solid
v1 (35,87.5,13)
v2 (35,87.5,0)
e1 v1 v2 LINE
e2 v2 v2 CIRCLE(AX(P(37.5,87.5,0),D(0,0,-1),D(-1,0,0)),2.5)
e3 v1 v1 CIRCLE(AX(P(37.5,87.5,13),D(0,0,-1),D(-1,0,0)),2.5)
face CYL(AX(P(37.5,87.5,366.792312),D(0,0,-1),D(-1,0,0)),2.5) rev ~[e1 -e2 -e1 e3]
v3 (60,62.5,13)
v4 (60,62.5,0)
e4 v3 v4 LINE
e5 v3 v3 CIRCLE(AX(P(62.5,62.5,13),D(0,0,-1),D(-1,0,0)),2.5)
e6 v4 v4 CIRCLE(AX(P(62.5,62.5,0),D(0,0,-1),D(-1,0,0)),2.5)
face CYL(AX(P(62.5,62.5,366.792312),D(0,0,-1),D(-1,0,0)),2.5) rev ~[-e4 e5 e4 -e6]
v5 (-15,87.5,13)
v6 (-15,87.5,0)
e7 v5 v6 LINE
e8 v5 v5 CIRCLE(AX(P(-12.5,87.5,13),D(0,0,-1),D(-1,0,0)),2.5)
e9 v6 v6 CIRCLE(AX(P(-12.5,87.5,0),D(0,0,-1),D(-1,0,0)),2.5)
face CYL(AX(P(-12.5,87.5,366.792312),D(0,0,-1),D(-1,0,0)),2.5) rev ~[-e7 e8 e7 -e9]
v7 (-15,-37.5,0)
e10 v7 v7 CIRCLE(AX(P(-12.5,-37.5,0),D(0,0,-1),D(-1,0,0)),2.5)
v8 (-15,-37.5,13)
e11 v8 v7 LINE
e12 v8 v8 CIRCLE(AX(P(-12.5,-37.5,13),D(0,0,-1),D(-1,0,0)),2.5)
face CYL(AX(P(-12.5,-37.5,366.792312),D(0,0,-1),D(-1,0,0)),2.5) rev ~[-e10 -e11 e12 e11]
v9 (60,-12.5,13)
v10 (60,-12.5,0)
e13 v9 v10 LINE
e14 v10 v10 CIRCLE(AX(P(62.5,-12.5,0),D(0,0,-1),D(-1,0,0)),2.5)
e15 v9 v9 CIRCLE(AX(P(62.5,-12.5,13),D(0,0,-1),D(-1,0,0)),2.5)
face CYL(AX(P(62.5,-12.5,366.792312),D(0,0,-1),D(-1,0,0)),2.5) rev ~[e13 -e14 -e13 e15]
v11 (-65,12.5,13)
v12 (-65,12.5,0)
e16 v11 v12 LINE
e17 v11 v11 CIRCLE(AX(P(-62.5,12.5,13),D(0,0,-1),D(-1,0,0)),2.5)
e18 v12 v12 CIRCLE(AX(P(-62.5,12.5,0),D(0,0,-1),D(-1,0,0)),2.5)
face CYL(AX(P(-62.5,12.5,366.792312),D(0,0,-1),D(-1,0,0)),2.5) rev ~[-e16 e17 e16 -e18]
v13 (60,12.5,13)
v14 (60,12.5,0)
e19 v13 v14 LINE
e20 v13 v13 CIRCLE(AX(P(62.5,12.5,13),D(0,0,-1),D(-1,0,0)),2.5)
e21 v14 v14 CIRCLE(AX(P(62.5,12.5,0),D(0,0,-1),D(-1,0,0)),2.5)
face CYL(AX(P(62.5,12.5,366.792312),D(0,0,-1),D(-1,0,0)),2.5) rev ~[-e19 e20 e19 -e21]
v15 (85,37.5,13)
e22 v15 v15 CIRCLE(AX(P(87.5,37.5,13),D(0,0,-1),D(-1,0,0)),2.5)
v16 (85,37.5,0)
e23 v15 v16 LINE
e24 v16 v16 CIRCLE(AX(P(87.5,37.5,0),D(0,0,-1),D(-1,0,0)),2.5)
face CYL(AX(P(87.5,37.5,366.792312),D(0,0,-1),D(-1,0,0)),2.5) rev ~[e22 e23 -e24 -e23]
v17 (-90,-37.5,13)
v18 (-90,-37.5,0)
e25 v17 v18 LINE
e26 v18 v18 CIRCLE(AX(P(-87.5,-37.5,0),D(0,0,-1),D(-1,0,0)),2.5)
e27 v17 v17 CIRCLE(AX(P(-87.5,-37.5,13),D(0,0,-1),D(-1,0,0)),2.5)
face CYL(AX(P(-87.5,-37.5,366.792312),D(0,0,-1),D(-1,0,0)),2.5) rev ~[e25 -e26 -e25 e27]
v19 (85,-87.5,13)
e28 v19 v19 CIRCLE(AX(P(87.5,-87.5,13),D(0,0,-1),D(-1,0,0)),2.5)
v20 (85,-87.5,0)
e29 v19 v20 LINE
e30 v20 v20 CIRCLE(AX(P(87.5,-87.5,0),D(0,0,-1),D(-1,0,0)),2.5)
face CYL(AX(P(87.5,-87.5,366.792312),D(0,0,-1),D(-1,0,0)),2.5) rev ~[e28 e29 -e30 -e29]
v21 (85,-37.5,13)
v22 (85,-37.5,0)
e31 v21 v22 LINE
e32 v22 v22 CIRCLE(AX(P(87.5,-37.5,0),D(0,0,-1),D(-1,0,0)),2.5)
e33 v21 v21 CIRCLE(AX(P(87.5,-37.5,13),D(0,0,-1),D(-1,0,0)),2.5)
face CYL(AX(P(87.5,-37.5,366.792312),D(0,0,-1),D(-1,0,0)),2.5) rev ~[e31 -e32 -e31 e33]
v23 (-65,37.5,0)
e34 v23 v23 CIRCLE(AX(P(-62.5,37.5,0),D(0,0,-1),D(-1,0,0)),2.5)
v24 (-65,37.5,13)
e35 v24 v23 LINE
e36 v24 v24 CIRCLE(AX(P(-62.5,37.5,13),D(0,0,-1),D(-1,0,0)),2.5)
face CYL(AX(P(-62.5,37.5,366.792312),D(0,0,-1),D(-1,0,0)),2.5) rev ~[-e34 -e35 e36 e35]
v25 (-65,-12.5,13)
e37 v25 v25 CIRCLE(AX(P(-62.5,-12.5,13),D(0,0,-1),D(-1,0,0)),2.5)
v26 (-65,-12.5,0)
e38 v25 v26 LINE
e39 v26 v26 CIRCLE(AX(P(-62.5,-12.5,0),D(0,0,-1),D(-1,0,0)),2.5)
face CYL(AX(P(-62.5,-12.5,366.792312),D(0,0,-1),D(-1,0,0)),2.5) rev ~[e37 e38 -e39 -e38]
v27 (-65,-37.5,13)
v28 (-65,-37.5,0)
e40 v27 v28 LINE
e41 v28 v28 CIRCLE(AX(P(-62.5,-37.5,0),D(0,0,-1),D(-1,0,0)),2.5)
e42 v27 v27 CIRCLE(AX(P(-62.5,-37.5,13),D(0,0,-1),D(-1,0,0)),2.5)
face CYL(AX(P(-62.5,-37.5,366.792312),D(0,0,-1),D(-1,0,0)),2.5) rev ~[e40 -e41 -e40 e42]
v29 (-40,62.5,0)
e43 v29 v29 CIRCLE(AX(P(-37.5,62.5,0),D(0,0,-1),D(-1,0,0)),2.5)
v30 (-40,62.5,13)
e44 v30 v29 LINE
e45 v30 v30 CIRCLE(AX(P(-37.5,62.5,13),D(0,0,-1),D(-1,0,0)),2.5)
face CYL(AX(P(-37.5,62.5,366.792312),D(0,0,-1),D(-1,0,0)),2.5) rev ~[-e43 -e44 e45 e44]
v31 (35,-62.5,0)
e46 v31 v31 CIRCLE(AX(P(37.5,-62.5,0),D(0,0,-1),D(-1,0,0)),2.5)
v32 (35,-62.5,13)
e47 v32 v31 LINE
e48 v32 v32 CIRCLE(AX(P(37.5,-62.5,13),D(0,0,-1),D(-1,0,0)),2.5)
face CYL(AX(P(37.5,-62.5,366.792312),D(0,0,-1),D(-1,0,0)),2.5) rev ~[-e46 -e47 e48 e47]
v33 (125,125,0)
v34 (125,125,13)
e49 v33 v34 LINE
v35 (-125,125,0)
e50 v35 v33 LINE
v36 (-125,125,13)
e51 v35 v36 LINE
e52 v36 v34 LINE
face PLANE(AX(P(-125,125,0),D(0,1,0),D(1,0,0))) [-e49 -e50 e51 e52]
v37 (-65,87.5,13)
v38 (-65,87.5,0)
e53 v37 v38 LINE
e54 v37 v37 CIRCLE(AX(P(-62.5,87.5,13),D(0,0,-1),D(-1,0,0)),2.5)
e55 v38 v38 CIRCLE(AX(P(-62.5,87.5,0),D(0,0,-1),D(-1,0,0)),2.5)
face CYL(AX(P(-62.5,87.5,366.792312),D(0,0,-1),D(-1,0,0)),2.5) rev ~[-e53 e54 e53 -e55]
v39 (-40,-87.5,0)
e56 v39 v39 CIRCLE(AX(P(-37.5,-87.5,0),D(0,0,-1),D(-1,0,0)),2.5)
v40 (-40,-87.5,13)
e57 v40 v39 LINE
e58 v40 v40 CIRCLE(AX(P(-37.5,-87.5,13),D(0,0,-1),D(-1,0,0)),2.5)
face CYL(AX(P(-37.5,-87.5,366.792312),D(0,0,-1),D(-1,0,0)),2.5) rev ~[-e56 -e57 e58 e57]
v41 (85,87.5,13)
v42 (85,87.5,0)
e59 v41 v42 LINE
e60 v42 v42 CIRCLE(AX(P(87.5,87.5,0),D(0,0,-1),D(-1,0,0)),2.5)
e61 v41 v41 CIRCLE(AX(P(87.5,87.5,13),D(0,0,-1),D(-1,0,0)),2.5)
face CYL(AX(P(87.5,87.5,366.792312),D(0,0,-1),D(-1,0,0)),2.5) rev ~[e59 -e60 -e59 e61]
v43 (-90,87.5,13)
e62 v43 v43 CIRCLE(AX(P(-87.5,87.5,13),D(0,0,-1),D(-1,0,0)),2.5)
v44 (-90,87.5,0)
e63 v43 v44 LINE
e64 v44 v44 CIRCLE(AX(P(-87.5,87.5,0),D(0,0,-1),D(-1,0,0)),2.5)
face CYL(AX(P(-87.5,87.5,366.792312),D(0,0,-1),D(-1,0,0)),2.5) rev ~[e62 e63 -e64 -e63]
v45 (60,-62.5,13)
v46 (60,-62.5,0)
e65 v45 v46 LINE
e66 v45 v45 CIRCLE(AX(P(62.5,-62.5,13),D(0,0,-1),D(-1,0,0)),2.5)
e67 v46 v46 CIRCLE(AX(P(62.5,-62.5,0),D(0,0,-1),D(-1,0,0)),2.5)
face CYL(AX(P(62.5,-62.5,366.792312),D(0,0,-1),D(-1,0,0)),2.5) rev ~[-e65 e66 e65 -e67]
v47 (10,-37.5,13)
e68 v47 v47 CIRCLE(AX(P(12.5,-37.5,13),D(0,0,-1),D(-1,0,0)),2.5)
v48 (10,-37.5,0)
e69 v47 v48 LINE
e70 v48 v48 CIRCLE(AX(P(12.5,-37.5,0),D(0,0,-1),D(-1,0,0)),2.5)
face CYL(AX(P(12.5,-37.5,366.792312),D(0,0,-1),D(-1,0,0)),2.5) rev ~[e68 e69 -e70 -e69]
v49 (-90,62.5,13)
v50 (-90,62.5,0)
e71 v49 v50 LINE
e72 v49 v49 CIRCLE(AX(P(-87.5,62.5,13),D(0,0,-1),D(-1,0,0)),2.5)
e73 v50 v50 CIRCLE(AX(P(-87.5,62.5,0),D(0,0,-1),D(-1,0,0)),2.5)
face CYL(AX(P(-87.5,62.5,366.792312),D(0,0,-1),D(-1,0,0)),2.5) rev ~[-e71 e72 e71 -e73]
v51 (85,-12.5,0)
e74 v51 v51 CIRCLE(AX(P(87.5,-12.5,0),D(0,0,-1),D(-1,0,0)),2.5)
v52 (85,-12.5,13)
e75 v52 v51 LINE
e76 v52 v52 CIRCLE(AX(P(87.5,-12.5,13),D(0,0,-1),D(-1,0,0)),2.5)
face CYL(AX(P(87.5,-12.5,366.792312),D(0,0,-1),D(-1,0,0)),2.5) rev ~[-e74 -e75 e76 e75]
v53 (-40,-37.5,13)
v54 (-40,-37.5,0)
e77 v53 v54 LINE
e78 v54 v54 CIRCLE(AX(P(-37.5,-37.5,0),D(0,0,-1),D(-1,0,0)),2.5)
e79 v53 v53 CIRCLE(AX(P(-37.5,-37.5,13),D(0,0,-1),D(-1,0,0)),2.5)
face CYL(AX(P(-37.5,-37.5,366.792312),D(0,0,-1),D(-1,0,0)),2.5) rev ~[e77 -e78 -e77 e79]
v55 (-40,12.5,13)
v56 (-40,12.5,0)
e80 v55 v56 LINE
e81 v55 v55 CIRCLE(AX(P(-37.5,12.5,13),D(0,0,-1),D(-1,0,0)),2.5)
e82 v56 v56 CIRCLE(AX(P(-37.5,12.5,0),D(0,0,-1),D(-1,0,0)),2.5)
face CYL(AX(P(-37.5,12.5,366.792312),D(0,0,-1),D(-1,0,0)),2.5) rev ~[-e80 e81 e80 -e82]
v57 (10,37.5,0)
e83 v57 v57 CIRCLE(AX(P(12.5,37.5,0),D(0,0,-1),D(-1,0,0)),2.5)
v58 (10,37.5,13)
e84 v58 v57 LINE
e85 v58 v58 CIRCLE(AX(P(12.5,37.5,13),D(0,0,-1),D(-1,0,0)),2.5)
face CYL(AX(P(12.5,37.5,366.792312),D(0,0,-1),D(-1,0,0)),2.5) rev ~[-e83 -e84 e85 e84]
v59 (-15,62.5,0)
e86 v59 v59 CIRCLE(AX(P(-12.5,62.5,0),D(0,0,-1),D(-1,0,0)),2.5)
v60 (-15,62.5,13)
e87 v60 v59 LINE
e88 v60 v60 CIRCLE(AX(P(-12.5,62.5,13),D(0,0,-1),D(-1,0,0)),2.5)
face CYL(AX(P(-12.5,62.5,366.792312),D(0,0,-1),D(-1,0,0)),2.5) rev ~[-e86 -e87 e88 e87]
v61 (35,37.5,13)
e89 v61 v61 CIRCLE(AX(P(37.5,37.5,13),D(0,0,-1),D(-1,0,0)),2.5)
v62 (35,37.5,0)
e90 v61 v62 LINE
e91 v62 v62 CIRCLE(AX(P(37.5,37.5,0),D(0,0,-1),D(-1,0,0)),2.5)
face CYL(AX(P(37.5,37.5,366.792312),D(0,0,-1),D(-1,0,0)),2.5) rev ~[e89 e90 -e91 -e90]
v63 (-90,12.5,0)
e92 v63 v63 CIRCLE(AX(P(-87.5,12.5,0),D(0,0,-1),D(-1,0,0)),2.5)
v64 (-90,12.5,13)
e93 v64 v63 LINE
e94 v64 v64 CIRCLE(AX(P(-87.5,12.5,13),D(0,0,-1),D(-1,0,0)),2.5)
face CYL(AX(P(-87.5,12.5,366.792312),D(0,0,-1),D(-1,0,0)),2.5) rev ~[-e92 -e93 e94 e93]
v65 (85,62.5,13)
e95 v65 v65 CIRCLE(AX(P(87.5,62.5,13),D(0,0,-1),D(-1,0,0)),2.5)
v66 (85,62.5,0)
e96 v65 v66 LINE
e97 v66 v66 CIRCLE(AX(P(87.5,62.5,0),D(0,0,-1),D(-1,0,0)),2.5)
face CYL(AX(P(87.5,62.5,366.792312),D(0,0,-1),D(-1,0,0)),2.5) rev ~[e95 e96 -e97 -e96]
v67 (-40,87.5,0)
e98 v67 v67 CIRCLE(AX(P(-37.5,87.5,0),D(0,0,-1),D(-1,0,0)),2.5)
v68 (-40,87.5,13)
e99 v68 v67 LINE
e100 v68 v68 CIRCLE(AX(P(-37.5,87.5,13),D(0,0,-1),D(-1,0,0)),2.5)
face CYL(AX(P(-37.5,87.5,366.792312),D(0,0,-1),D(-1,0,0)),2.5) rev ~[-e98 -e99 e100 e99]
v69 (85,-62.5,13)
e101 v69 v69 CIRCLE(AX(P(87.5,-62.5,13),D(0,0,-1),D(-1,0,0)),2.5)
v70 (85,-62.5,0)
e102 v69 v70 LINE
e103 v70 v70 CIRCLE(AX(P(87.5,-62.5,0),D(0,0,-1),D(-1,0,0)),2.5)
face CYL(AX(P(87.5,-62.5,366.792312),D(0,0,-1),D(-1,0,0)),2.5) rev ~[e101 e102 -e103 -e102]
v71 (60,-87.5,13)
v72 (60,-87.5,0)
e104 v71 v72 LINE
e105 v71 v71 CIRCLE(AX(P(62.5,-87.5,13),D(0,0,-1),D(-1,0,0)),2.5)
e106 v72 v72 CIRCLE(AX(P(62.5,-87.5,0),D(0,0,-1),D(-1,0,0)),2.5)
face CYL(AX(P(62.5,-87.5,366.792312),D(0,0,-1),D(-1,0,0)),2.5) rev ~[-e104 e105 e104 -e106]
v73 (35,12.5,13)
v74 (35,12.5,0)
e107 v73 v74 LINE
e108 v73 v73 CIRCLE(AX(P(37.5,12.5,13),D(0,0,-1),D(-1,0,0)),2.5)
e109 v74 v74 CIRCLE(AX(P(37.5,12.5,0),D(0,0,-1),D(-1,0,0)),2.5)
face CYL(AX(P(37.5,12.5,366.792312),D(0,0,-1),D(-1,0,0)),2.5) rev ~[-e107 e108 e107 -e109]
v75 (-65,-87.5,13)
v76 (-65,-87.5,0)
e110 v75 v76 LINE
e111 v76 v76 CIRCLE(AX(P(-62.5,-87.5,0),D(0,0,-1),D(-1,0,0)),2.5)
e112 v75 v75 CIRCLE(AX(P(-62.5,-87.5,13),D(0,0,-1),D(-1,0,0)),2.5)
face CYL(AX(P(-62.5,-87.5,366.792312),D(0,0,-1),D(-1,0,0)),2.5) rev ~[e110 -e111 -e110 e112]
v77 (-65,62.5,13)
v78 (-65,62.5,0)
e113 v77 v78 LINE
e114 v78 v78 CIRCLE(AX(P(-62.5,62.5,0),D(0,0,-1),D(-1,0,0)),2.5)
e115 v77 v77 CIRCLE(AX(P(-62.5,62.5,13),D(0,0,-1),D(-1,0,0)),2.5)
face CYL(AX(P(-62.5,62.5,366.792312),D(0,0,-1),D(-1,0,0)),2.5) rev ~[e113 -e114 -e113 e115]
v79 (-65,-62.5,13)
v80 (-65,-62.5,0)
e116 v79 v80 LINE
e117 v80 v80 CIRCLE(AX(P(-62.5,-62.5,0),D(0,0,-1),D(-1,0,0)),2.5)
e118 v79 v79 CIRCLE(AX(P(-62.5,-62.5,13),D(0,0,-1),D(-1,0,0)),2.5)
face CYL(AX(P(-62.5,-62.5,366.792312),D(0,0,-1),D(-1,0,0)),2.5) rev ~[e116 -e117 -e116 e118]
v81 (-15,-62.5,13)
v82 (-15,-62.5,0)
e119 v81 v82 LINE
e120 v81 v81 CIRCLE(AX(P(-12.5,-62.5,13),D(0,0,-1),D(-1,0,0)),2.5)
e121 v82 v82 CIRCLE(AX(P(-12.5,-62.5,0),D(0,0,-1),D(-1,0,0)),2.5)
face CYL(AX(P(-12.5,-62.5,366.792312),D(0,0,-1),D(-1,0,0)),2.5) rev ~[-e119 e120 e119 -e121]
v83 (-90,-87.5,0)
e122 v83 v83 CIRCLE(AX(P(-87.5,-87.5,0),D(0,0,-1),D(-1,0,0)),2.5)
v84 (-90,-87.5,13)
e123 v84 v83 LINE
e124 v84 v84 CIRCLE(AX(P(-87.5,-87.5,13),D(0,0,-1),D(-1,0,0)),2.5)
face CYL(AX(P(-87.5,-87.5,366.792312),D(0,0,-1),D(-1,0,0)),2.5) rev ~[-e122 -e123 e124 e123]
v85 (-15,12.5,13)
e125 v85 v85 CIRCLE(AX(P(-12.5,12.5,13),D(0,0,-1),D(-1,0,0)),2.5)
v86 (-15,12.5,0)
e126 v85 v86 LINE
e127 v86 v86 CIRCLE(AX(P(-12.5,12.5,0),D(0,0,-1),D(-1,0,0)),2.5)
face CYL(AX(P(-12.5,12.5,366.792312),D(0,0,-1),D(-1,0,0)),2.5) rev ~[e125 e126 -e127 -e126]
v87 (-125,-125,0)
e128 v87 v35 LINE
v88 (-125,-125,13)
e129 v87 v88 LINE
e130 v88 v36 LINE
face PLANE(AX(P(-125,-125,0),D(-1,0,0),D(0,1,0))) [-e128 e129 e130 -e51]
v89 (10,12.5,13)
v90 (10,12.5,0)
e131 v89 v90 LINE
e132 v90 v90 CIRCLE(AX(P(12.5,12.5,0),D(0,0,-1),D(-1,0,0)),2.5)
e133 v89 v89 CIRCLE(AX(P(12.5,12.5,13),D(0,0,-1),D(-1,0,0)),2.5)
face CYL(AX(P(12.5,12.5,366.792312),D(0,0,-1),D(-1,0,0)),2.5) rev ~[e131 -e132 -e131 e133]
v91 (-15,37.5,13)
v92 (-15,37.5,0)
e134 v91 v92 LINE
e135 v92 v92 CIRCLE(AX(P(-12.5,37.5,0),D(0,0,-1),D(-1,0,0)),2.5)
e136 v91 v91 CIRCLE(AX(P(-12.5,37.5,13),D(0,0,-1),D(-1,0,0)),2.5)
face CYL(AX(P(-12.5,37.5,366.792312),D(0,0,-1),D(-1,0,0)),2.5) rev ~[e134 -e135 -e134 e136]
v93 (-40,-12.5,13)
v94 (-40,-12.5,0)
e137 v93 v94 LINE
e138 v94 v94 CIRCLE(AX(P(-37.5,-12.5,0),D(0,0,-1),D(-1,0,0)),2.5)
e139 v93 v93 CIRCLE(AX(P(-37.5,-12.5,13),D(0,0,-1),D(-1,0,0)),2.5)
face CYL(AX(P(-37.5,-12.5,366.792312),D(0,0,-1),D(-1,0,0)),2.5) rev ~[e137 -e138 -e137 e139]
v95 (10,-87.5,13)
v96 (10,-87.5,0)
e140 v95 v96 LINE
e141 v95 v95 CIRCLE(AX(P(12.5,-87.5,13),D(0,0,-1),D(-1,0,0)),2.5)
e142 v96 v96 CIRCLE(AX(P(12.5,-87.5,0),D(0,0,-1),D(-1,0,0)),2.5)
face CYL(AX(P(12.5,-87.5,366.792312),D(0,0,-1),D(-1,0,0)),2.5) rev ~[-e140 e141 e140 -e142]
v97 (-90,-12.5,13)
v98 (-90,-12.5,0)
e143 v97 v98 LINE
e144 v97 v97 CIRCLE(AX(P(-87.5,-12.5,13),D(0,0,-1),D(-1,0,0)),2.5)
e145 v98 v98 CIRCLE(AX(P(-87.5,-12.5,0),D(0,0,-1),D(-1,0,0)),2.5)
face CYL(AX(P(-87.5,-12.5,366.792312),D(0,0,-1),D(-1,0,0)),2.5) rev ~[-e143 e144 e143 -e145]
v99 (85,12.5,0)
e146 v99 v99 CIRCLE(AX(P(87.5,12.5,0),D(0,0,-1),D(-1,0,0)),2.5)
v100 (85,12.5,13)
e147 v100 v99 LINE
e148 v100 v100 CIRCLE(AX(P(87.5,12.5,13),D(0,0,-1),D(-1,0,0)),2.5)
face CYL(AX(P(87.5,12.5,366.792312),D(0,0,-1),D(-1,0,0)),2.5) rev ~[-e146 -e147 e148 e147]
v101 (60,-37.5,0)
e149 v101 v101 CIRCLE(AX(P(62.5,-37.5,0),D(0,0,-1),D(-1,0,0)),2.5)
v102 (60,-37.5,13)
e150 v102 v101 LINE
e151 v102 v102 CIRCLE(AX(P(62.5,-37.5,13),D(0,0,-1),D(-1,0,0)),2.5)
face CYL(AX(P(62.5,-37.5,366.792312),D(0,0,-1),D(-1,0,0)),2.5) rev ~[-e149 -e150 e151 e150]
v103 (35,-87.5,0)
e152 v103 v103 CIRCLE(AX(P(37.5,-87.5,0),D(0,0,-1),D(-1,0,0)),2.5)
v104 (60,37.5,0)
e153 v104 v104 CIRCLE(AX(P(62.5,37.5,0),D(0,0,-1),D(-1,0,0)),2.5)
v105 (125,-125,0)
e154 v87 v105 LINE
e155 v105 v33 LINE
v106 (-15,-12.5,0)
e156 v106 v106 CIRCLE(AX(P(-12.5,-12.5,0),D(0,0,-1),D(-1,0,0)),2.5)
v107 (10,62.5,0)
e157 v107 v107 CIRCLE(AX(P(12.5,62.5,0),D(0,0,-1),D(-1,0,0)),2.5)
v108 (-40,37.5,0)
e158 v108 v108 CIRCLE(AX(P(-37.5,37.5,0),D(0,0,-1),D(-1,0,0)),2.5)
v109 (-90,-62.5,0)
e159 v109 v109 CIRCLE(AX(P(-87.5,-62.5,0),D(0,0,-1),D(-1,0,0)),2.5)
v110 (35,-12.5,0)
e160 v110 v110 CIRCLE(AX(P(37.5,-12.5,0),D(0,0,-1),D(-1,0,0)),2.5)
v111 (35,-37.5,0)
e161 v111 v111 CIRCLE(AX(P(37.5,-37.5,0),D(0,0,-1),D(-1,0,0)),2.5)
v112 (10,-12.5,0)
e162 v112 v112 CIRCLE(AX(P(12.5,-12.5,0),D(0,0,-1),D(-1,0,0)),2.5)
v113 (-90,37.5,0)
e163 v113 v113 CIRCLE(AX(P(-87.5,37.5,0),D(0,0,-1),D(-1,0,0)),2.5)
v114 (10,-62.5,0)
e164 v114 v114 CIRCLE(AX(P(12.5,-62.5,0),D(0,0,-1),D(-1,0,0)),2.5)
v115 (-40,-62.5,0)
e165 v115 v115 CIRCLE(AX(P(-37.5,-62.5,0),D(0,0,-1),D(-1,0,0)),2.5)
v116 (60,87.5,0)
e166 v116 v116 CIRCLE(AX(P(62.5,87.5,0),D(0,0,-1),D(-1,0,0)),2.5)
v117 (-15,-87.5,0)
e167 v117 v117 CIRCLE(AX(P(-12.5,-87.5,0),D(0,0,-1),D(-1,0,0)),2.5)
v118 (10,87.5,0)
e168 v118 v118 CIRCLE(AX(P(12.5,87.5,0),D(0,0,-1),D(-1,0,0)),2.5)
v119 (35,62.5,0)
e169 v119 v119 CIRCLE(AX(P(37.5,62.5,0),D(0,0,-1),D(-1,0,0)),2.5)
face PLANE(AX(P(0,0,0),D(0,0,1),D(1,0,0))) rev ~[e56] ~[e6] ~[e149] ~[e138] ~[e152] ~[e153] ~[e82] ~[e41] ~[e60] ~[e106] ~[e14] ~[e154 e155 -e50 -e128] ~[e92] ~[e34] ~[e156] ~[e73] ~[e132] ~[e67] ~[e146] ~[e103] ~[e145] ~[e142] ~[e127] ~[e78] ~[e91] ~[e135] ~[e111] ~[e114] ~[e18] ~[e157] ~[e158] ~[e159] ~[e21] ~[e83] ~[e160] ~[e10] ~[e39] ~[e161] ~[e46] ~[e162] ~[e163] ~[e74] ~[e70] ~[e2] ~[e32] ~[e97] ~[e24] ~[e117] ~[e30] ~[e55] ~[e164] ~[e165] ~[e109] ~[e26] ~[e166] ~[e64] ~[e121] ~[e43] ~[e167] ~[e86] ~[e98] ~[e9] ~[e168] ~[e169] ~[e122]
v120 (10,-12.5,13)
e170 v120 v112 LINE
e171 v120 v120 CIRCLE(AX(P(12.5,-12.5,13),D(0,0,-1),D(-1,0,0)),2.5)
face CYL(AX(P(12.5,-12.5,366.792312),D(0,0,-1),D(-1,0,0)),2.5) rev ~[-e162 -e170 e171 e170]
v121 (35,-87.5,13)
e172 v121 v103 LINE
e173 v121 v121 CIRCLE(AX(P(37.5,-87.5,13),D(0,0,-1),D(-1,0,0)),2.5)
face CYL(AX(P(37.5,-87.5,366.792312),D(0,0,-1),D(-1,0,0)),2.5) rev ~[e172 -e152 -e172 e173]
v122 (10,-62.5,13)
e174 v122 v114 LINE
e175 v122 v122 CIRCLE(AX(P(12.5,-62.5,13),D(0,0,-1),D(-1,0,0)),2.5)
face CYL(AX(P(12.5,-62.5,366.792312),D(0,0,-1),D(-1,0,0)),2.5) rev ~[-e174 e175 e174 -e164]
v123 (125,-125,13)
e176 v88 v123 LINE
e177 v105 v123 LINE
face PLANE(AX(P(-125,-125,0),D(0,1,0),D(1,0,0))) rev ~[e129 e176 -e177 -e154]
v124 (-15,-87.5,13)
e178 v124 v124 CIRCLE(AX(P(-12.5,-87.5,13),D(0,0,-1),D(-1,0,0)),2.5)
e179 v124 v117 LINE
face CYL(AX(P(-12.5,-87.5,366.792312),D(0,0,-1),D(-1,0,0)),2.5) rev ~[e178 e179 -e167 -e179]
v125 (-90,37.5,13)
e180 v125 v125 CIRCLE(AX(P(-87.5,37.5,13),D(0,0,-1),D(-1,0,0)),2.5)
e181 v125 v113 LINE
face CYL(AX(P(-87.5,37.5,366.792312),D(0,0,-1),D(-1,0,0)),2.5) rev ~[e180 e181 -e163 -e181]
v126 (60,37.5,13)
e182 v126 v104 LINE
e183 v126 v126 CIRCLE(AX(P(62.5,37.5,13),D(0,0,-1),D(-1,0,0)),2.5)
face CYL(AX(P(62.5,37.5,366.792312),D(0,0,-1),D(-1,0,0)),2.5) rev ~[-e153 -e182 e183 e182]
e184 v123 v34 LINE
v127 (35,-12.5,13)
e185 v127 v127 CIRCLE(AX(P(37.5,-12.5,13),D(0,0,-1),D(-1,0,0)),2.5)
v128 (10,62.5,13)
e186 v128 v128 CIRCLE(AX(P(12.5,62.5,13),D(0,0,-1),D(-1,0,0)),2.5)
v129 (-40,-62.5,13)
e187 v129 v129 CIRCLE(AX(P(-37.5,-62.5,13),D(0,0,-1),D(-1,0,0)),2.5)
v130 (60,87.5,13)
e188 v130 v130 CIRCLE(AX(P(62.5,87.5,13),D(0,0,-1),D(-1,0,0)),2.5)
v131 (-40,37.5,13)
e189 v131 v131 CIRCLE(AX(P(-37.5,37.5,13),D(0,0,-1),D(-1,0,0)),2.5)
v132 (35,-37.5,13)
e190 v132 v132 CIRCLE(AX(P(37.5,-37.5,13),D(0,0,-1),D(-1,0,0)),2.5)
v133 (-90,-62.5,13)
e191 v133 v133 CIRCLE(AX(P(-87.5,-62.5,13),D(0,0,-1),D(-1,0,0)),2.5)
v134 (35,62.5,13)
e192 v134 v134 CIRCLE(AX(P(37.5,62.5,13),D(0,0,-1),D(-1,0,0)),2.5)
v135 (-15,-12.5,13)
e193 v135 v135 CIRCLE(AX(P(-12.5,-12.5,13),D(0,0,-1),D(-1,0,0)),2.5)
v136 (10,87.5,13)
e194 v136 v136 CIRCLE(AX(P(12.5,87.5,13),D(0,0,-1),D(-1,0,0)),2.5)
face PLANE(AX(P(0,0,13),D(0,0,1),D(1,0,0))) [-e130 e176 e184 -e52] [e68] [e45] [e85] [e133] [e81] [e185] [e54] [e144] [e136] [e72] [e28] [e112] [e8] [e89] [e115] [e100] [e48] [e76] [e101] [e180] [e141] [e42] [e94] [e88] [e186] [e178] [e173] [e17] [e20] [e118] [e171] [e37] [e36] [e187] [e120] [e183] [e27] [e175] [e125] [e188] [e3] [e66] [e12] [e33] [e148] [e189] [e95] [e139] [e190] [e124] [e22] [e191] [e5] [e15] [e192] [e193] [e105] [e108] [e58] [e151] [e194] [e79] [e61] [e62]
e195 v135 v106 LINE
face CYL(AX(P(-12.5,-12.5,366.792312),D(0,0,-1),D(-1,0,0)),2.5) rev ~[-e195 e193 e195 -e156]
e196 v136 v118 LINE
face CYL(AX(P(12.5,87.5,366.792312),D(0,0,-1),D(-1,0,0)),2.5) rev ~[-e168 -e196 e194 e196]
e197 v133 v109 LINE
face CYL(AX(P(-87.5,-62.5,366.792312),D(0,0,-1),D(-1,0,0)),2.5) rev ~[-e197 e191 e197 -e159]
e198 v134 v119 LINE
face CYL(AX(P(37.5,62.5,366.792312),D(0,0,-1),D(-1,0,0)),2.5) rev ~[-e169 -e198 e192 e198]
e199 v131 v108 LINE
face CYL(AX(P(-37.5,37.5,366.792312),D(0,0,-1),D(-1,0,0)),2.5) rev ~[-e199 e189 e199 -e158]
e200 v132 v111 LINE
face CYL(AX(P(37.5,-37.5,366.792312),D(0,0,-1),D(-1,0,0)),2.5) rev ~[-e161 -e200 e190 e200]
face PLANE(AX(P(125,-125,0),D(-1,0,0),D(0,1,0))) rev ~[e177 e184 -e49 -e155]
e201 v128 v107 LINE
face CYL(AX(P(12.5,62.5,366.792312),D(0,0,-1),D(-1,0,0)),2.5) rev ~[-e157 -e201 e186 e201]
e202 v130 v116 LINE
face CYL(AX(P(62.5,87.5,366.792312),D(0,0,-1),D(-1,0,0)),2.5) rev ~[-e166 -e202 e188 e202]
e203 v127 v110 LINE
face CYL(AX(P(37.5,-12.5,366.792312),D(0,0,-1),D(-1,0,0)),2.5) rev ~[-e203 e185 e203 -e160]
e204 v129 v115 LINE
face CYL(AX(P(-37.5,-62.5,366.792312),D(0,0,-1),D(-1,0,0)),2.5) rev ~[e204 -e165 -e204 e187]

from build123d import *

# Parameters (mm, degrees)
SKETCH_1_W                  = 250
SKETCH_1_H                  = 250
EXTRUDE_1_DEPTH             = 13
HOLE_WIZARD_M6_1_D          = 5
PATTERN_LINEAR_1_COUNT      = 8
PATTERN_LINEAR_1_PITCH      = 25
PATTERN_LINEAR_1_COUNT_DIR2 = 8
PATTERN_LINEAR_1_PITCH_DIR2 = 25


with BuildPart() as part:
    # 草图1 → 凸台-拉伸1 (new body)
    with BuildSketch(Plane.XY):
        Rectangle(SKETCH_1_W, SKETCH_1_H)
    extrude(amount=EXTRUDE_1_DEPTH)

    # M6 螺纹孔的螺纹孔钻头1 (through all)
    with Locations(Plane.XY.offset(13)):
        with Locations((-87.5, -87.5)):
            hole_wizard_m6_1 = Hole(HOLE_WIZARD_M6_1_D / 2)

    # 阵列(线性)1: Hole Wizard M6 _1 8 × 8
    with Locations(*[(j * PATTERN_LINEAR_1_PITCH_DIR2, i * PATTERN_LINEAR_1_PITCH, 0) for i in range(PATTERN_LINEAR_1_COUNT) for j in range(PATTERN_LINEAR_1_COUNT_DIR2) if (i, j) != (0, 0)]):
        add(hole_wizard_m6_1, mode=Mode.SUBTRACT)


solid = part.part
